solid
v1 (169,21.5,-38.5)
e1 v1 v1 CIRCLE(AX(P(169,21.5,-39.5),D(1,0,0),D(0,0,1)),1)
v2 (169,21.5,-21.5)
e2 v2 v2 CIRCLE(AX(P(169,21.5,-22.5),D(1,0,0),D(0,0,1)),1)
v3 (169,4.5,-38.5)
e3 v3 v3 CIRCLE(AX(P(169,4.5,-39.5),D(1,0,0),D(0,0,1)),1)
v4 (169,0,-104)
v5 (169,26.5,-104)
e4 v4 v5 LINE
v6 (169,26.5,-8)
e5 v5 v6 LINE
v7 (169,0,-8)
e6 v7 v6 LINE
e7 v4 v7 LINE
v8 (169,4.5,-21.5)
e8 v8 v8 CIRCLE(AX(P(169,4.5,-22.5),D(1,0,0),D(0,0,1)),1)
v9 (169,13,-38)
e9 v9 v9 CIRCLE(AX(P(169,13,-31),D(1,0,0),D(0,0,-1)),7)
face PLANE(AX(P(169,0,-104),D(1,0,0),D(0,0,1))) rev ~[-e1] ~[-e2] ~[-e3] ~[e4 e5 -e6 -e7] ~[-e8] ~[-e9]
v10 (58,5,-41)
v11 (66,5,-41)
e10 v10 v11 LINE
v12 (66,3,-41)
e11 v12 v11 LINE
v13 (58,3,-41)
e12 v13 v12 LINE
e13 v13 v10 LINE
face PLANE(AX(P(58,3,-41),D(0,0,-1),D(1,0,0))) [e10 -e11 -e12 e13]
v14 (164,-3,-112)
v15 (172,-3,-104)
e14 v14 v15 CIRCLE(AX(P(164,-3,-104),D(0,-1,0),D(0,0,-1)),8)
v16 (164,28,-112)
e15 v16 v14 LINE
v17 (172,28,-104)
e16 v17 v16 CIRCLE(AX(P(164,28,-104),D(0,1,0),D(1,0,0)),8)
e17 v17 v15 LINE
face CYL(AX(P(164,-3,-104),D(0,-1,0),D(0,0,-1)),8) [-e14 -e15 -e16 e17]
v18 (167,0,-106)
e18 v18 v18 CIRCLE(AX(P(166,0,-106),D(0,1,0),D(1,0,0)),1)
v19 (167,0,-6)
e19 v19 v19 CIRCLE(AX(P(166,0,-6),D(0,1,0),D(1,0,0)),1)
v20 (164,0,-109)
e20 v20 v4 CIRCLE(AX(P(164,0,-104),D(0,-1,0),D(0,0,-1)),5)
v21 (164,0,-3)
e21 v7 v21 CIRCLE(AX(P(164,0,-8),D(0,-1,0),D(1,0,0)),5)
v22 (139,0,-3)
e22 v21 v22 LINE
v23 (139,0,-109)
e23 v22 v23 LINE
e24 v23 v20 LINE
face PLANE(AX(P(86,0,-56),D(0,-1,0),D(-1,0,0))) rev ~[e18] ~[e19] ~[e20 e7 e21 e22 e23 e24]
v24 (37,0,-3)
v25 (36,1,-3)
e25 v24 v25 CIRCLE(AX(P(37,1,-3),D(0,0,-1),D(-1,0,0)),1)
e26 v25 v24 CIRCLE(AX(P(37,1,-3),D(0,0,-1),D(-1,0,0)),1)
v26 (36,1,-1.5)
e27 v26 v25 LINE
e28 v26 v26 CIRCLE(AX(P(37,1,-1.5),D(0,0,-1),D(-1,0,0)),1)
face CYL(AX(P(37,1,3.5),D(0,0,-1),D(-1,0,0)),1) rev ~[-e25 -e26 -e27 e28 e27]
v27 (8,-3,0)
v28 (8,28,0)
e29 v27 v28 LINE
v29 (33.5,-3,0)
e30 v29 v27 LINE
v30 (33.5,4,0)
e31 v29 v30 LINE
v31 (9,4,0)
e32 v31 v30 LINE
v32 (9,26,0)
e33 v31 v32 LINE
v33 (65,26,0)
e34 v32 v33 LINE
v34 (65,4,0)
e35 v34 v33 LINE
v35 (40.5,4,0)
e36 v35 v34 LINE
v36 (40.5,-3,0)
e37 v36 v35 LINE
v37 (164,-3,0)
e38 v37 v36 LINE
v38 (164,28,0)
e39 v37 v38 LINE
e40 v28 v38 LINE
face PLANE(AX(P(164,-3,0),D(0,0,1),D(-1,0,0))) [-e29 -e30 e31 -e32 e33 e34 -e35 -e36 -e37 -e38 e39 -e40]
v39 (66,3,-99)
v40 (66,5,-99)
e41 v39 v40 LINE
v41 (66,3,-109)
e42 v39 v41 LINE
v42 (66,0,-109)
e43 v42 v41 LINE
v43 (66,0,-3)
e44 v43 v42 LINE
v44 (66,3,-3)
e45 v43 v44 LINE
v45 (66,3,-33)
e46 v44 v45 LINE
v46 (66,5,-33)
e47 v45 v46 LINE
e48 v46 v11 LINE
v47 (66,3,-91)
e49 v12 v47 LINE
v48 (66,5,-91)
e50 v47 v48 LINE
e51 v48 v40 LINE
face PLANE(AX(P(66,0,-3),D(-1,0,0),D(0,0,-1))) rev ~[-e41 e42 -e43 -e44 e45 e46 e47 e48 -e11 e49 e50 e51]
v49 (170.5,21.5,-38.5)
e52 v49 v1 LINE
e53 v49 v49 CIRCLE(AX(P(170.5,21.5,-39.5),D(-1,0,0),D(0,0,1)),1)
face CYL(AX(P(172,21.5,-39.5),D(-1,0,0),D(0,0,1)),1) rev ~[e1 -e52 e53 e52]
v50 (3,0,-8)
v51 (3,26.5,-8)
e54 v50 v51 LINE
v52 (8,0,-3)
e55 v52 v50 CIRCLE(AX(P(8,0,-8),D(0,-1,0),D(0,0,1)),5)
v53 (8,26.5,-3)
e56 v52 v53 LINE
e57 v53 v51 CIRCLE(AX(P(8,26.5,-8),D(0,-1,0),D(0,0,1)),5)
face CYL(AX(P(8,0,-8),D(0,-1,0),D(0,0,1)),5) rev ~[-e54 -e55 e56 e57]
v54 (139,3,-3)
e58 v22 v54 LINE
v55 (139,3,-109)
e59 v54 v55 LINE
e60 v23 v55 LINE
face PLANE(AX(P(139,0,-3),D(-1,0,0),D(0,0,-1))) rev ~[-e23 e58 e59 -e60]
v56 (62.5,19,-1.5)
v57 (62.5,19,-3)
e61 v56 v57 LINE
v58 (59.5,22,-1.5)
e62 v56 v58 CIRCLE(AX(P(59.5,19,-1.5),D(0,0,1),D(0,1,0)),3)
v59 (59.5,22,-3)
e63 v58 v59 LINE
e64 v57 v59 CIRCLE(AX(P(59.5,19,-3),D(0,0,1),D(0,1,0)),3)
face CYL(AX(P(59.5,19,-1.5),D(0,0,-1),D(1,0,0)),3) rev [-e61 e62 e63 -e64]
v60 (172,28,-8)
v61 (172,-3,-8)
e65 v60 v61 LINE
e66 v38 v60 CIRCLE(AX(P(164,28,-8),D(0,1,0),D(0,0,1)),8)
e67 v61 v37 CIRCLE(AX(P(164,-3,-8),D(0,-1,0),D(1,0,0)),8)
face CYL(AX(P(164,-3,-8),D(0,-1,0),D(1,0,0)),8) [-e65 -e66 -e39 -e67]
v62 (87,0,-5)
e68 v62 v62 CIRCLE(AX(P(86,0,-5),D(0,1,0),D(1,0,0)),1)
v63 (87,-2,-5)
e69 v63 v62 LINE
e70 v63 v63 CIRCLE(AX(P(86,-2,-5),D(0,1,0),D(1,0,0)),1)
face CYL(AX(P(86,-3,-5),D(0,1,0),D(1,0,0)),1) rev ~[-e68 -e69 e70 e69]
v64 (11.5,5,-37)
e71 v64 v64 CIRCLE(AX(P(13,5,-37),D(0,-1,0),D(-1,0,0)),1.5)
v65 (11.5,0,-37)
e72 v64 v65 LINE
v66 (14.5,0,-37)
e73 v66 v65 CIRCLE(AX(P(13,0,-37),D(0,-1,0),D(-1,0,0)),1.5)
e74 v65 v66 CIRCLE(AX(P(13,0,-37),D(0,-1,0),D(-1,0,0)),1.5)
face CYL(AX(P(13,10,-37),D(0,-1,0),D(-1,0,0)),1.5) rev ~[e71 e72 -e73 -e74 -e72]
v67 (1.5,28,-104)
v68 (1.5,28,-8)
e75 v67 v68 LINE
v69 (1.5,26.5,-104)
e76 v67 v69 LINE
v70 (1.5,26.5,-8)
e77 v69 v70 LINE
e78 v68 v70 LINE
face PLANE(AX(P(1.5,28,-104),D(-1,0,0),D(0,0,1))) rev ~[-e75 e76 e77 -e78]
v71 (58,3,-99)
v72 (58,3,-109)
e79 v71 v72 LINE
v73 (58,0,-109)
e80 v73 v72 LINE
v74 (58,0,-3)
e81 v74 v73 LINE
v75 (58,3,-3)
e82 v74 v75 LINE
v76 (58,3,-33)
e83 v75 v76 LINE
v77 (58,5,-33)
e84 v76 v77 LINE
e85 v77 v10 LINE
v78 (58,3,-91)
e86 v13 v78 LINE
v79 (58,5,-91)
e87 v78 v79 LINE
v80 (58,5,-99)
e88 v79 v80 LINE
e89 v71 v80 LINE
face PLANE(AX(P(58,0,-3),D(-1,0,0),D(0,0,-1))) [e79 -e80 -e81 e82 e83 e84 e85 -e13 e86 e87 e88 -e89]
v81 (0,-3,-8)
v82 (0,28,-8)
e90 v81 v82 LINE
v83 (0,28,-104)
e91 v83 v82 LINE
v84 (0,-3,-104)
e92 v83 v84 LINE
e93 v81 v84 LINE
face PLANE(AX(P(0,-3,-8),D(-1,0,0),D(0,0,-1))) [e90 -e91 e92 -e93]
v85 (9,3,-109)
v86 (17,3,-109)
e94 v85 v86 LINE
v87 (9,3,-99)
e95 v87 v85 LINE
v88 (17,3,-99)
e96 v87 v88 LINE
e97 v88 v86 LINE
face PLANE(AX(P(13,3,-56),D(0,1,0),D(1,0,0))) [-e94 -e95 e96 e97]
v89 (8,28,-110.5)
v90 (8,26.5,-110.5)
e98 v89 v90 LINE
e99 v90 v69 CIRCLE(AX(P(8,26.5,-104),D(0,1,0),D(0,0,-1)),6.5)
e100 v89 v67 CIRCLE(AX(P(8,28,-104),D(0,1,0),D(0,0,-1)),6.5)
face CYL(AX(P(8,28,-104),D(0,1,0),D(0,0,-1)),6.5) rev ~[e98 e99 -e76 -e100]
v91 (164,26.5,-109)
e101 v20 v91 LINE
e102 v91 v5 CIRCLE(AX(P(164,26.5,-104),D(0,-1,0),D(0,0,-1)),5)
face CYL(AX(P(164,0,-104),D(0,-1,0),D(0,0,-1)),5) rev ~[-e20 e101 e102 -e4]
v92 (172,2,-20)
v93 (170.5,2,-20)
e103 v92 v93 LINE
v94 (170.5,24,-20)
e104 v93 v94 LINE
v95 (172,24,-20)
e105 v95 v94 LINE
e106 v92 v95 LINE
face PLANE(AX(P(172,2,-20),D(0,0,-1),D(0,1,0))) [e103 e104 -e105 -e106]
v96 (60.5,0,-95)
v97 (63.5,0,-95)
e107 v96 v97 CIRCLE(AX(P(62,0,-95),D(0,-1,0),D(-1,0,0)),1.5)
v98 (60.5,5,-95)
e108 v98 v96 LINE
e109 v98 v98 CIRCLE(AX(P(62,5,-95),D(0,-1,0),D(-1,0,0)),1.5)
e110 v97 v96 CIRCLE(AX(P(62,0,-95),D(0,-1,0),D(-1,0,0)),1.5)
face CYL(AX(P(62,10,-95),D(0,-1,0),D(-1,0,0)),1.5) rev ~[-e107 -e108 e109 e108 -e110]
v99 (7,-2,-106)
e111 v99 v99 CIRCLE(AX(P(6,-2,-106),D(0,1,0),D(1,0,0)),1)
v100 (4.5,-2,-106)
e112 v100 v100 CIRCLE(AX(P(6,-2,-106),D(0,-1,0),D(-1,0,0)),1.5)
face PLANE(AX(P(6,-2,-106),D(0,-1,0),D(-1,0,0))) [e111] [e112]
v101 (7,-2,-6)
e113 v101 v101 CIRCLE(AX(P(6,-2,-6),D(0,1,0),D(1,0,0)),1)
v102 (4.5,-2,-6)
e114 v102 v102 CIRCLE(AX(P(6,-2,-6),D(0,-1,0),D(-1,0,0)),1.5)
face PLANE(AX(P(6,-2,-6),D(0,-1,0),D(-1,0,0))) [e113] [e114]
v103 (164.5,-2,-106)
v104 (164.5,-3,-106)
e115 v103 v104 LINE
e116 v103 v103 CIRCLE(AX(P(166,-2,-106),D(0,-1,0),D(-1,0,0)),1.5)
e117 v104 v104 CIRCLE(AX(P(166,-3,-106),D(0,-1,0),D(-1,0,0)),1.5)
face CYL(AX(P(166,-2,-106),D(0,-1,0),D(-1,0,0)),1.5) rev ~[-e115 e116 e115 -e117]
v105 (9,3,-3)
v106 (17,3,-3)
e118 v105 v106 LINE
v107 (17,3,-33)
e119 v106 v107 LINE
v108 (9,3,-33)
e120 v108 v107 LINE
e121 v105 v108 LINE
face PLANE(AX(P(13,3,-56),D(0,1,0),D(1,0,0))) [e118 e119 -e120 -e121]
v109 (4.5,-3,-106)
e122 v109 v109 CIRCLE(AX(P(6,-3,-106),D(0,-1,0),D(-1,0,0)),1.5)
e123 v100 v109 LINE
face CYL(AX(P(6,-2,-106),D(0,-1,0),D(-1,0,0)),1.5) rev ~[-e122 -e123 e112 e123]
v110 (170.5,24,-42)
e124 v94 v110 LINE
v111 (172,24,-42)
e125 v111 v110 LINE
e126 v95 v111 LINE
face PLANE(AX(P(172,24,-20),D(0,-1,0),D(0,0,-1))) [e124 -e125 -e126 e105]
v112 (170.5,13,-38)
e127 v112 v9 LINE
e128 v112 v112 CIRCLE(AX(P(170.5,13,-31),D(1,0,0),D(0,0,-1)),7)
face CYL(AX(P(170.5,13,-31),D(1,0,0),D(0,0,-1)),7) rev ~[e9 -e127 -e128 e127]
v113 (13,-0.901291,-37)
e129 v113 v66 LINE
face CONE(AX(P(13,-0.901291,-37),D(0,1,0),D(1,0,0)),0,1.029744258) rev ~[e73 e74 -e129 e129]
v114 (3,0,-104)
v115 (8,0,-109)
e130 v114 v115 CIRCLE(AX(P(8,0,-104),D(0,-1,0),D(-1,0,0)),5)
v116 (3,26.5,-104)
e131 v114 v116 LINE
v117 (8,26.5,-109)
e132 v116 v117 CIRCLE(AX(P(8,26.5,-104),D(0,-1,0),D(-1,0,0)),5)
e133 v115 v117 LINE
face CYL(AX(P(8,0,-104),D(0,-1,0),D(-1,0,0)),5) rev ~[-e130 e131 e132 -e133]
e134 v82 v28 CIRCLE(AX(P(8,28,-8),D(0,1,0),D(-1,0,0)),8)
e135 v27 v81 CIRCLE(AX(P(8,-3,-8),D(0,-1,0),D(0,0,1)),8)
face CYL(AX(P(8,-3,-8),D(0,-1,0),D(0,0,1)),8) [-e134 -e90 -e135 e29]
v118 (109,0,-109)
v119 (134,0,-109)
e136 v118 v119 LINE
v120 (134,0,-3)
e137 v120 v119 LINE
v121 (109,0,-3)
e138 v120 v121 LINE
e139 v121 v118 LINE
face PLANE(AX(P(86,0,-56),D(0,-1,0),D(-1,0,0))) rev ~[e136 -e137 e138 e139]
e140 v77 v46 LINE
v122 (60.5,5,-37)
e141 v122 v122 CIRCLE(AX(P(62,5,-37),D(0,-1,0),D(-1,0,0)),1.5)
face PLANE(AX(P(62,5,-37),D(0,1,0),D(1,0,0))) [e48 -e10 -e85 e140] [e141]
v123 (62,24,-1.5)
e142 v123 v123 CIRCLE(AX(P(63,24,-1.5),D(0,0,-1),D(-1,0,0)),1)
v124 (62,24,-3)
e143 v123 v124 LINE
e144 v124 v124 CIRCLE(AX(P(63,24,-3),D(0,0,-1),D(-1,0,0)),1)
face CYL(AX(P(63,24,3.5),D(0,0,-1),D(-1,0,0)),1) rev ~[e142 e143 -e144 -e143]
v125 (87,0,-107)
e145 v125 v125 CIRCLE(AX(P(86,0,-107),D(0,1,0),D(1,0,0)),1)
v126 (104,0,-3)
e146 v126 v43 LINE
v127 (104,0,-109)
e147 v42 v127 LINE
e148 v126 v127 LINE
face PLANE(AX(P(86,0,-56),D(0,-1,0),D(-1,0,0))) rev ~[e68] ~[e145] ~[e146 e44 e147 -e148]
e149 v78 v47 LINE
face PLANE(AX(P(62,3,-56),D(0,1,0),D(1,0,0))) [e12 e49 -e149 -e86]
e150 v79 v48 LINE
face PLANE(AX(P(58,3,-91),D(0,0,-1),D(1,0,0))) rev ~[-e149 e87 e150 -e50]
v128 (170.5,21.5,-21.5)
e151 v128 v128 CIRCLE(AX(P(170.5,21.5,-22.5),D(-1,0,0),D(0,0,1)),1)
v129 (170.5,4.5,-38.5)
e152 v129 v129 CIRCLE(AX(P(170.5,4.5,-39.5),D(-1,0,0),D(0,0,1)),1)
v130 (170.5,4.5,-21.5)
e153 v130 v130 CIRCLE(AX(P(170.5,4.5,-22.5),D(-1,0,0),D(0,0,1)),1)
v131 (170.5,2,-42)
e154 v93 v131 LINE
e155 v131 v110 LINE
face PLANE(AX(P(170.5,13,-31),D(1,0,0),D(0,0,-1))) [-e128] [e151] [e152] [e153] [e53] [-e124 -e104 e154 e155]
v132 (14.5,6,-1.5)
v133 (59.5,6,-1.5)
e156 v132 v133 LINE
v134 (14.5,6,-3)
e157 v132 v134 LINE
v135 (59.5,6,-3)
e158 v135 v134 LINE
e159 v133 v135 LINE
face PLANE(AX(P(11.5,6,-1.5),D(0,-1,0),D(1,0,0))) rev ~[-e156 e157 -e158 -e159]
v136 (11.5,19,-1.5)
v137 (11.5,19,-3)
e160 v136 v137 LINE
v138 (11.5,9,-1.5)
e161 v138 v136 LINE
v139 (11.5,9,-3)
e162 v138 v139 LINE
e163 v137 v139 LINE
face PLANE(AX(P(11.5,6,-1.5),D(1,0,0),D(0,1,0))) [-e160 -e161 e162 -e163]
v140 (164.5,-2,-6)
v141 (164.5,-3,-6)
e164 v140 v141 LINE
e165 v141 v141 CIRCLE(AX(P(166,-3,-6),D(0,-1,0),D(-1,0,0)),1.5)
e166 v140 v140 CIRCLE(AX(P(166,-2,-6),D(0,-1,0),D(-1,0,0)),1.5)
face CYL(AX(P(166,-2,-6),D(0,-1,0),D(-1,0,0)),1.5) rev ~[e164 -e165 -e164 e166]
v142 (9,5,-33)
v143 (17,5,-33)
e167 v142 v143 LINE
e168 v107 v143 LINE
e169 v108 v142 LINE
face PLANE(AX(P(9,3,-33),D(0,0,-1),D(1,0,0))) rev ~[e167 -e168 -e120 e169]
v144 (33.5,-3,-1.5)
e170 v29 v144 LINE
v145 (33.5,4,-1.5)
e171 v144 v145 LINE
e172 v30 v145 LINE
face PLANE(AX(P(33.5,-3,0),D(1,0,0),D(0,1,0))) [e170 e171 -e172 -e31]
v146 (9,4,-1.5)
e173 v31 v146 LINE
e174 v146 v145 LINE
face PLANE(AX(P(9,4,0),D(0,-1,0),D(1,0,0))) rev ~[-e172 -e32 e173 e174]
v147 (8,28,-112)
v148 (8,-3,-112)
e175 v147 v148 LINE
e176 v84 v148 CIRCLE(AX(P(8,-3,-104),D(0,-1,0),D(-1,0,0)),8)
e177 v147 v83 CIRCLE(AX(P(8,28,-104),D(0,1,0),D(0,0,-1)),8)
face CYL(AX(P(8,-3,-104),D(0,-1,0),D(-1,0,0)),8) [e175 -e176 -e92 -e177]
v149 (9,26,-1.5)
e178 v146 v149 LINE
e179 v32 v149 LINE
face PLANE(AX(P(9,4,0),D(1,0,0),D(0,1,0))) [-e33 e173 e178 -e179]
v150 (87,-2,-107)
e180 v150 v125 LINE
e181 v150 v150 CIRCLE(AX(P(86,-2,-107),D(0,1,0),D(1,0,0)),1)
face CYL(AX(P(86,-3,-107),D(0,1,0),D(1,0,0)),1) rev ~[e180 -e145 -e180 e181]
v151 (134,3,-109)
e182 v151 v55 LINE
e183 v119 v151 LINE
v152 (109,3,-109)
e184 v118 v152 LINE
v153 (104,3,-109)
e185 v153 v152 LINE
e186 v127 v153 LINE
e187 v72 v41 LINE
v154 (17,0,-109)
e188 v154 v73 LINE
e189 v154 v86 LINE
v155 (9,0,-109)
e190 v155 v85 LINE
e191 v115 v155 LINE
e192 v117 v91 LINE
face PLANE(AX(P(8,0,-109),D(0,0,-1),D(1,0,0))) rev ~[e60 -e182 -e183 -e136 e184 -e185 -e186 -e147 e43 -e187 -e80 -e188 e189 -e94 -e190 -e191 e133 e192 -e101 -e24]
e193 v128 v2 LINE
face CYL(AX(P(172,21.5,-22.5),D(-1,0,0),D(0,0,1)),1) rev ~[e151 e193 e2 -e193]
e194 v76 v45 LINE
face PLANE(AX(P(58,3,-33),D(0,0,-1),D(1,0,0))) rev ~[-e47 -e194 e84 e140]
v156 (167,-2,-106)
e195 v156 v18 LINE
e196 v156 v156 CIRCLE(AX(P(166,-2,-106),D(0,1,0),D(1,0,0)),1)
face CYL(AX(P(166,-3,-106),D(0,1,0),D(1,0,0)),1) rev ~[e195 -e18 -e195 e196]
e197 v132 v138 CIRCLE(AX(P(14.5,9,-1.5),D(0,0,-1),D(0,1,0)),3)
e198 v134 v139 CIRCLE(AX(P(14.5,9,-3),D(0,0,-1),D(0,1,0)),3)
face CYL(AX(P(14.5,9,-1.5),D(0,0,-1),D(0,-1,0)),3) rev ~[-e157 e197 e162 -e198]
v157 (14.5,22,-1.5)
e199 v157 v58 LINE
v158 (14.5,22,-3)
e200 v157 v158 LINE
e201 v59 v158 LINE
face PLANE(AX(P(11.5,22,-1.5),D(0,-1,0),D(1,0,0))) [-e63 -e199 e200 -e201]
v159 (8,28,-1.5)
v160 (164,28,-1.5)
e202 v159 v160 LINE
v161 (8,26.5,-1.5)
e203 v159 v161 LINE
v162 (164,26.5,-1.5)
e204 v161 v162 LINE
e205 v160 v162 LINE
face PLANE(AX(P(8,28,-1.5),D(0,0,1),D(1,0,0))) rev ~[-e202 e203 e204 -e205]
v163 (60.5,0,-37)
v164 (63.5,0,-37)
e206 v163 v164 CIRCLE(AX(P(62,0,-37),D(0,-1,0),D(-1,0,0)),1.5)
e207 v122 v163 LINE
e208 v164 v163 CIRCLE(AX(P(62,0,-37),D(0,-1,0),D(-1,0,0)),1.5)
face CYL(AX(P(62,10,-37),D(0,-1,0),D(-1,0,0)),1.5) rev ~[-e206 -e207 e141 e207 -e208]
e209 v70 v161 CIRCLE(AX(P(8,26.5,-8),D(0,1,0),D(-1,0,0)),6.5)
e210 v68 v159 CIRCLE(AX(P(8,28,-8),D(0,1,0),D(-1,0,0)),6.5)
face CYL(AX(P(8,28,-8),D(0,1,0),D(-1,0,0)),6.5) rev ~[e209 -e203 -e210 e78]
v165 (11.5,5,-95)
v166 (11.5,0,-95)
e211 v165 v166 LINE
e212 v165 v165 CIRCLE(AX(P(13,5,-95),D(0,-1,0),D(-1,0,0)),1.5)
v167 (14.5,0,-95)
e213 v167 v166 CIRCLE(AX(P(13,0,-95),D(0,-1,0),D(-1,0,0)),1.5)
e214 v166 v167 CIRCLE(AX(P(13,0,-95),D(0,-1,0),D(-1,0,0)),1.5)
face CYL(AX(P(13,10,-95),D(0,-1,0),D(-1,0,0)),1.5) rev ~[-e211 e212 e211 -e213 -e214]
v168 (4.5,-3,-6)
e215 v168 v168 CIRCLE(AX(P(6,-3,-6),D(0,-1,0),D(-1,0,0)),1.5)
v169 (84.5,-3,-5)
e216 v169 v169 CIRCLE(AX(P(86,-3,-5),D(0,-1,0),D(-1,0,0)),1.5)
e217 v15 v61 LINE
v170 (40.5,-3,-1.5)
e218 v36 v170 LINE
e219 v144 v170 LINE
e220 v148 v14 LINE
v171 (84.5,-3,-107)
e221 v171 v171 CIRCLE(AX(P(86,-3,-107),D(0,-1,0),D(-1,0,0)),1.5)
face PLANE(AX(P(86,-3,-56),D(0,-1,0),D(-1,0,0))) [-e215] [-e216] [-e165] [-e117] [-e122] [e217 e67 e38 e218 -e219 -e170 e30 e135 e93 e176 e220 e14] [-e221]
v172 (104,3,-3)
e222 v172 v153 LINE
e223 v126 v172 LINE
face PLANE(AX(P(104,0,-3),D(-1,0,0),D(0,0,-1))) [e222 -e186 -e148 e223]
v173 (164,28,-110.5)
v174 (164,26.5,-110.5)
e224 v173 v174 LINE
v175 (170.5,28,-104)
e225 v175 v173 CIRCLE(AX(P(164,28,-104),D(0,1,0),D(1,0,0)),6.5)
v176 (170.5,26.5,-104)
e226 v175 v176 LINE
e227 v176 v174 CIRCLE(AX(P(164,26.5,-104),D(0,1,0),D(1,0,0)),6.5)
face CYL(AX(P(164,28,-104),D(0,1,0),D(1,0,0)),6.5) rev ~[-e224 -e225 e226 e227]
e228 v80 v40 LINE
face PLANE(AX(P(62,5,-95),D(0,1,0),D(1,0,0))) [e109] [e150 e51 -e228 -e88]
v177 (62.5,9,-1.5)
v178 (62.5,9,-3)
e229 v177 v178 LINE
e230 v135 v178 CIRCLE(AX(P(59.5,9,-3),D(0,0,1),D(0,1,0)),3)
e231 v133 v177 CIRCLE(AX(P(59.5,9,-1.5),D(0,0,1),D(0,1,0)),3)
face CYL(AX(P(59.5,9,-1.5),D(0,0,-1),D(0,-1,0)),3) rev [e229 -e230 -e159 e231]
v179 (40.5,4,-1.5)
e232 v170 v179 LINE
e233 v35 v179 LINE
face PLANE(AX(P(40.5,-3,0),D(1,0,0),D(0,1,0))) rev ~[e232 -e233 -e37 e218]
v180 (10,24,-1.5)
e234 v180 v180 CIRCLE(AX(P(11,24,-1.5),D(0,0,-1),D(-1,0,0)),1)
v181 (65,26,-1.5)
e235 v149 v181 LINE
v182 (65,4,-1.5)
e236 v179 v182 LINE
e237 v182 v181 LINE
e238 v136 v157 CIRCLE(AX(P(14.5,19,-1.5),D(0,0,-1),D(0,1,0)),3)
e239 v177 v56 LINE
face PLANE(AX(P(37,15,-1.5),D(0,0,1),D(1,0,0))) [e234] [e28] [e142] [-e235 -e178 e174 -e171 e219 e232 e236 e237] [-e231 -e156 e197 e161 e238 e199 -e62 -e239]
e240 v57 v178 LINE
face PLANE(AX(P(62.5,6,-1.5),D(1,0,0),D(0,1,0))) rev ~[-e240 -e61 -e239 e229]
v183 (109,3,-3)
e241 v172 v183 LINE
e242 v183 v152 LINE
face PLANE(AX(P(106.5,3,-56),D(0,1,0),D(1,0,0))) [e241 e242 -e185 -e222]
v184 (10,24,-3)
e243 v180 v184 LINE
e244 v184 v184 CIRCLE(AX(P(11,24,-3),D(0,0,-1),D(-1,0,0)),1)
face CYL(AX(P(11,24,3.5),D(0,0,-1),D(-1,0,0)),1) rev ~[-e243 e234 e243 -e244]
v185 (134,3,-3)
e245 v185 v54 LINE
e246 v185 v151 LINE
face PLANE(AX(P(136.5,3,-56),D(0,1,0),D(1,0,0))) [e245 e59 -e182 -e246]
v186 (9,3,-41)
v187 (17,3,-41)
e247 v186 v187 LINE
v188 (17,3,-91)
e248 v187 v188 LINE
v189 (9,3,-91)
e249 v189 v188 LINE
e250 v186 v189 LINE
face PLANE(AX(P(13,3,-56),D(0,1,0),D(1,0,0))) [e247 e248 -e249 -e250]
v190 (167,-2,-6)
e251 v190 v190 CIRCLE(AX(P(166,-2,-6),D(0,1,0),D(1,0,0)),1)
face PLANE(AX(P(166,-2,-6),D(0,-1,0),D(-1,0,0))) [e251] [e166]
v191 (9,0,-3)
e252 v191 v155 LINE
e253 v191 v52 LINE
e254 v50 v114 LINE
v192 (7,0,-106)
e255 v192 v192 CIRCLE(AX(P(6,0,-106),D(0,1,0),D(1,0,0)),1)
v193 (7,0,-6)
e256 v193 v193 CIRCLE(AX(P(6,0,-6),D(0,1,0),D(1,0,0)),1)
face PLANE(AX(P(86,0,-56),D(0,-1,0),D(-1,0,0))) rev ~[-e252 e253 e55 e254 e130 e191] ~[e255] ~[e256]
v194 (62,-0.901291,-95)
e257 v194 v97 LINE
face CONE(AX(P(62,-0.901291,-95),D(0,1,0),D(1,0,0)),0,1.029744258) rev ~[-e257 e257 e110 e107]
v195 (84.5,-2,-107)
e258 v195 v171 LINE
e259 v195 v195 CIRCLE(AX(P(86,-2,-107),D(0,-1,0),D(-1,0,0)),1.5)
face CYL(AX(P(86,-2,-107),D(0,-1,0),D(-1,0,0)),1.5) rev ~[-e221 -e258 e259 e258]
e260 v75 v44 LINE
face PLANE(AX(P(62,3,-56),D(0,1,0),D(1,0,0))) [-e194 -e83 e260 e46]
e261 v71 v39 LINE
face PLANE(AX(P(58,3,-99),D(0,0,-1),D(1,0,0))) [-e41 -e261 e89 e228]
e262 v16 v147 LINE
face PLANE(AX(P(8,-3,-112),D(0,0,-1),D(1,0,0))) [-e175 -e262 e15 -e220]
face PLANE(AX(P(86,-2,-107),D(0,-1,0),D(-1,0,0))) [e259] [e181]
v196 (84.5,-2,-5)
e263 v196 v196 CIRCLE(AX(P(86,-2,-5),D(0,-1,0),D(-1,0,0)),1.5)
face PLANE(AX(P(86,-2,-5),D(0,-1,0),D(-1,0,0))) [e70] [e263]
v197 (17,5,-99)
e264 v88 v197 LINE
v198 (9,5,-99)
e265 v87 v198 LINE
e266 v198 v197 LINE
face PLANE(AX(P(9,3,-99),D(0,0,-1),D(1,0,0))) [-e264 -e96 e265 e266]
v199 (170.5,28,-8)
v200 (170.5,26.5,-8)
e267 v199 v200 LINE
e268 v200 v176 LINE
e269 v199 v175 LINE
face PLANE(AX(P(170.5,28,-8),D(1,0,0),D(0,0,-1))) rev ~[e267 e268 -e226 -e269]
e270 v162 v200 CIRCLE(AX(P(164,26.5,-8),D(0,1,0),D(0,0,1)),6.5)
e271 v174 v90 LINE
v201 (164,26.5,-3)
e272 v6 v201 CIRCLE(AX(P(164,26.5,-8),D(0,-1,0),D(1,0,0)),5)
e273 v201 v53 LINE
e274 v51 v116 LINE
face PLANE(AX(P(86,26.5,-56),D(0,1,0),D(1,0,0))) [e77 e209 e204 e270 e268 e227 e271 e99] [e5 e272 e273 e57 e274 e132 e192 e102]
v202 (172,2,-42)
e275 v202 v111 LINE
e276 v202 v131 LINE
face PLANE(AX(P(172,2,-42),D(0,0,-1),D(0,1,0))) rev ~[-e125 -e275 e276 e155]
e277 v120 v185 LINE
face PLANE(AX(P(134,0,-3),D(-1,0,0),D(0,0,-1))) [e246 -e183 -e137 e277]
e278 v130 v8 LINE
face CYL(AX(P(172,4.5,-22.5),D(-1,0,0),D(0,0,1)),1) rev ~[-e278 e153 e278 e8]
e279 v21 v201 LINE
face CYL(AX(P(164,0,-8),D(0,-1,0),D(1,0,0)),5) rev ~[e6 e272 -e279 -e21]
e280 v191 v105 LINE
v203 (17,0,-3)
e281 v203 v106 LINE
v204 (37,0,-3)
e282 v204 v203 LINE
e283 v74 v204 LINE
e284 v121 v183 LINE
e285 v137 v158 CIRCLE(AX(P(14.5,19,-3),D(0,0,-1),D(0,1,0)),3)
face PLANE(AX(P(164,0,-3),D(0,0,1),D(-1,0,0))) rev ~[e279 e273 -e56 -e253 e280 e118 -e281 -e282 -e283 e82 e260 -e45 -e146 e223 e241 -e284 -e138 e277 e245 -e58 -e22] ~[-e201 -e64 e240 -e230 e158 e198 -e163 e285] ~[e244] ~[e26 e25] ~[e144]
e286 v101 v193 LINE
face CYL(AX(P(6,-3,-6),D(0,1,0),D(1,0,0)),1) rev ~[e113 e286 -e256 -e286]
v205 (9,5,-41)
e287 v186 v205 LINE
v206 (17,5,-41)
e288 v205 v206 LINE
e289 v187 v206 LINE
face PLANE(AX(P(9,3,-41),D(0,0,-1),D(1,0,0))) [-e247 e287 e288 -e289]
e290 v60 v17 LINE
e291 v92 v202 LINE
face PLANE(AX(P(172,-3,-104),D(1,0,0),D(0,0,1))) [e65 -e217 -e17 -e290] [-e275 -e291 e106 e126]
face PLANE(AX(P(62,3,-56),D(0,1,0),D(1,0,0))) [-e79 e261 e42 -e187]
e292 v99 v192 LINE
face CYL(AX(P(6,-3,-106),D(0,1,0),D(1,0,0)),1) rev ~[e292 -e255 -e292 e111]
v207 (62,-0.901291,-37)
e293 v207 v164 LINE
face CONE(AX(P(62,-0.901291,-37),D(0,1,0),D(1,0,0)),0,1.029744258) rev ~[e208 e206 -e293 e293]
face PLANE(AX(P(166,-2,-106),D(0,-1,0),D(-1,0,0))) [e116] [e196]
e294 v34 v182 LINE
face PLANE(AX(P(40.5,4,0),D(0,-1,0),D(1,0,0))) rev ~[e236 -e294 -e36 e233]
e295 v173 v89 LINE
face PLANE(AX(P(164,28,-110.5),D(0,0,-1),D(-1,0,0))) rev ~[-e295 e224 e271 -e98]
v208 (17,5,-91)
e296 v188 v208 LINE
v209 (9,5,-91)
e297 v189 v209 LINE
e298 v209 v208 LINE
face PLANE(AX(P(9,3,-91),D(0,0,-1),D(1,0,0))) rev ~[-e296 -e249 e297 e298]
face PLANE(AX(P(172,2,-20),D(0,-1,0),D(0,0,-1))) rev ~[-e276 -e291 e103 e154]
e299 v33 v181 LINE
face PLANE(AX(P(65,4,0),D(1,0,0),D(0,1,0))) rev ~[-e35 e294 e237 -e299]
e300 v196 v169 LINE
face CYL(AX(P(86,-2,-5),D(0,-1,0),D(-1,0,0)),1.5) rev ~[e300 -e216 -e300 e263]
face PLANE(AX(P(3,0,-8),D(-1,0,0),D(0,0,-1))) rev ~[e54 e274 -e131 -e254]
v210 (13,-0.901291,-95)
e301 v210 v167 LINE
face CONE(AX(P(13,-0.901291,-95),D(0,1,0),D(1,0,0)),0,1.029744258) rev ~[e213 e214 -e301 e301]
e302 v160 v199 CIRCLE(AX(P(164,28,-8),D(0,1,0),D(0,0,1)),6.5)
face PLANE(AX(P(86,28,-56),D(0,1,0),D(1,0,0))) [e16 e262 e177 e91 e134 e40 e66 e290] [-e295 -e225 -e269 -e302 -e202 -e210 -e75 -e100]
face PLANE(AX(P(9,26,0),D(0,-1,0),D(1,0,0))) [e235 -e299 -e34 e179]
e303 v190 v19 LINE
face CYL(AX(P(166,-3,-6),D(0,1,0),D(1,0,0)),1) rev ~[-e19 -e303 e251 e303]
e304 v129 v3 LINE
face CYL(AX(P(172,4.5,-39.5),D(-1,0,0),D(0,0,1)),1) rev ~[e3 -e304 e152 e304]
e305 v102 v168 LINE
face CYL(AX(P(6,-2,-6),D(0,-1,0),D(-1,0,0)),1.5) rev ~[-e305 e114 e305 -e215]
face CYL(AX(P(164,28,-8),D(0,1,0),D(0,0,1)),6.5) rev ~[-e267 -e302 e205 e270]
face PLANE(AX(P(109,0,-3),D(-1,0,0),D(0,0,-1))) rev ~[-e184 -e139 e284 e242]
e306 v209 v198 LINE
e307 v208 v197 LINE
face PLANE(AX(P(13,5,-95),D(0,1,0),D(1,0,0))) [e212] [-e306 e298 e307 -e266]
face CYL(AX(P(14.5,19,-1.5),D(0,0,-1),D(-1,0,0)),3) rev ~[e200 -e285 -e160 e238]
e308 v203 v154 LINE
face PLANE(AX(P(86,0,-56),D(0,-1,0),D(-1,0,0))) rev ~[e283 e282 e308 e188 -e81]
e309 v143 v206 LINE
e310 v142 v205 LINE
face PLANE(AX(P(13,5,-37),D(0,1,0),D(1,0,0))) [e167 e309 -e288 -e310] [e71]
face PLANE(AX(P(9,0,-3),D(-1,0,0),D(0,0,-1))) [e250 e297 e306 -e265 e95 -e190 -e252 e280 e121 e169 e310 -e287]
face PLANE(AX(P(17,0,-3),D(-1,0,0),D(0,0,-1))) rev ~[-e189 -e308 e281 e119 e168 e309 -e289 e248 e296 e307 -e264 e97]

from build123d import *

# Parameters (mm, degrees)
EXTRUDE_1_DEPTH             = 28
SKETCH_3_W                  = 8
SKETCH_3_H                  = 106
EXTRUDE_2_DEPTH             = 3
EXTRUDE_2_2_DEPTH           = 3
EXTRUDE_START               = -3
EXTRUDE_3_DEPTH             = 3
HOLE_WIZARD_M51_D           = 2
HOLE_WIZARD_M51_CBORE_D     = 3
HOLE_WIZARD_M51_CBORE_DEPTH = 1
SKETCH_17_W                 = 56
SKETCH_17_H                 = 22
SKETCH_17_W_2               = 7
SKETCH_17_H_2               = 7
CUT_EXTRUDE_2_DEPTH         = 1.5
CUT_EXTRUDE_3_REACH         = 208.345
SKETCH_18_W                 = 51
SKETCH_18_H                 = 16
SKETCH_19_W                 = 8
SKETCH_19_H                 = 8
EXTRUDE_4_DEPTH             = 2
HOLE_WIZARD_3_0_3_1_D       = 3
HOLE_WIZARD_3_0_3_1_DEPTH   = 5
HOLE_WIZARD_3_0_3_1_TIP     = 0.901290929
HOLE_WIZARD_2_0_2_1_D       = 2
HOLE_WIZARD_2_0_2_1_DEPTH   = 5
HOLE_WIZARD_2_0_2_1_TIP     = 0.600860619
CUT_EXTRUDE_4_DEPTH         = 1.5
FILLET_1_R                  = 3
SKETCH_28_W                 = 5
SKETCH_28_H                 = 106
EXTRUDE_5_DEPTH             = 3
SKETCH_29_W                 = 22
SKETCH_29_H                 = 22
CUT_EXTRUDE_5_DEPTH         = 1.5
SKETCH_30_R                 = 7
CUT_EXTRUDE_6_DEPTH         = 1.5
HOLE_WIZARD_2_0_2_2_D       = 2
HOLE_WIZARD_2_0_2_2_DEPTH   = 1.5
HOLE_WIZARD_2_0_2_2_TIP     = 0.600860619


with BuildPart() as part:
    # Эскиз1 → Бобышка-Вытянуть1 (new body)
    with BuildSketch(Plane(origin=(0, 0, 0), x_dir=(1, 0, 0), z_dir=(0, 1, 0))):
        with BuildLine():
            Line((8, 0), (164, 0))
            ThreePointArc((164, 0), (169.656854249, 2.343145751), (172, 8))
            Line((172, 8), (172, 104))
            ThreePointArc((172, 104), (169.656854249, 109.656854249), (164, 112))
            Line((164, 112), (8, 112))
            ThreePointArc((8, 112), (2.343145751, 109.656854249), (0, 104))
            Line((0, 104), (0, 8))
            ThreePointArc((0, 8), (2.343145751, 2.343145751), (8, 0))
        make_face()
        with BuildLine():
            Line((8, 109), (164, 109))
            ThreePointArc((164, 109), (167.535533906, 107.535533906), (169, 104))
            Line((169, 104), (169, 8))
            ThreePointArc((169, 8), (167.535533906, 4.464466094), (164, 3))
            Line((164, 3), (8, 3))
            ThreePointArc((8, 3), (4.464466094, 4.464466094), (3, 8))
            Line((3, 8), (3, 104))
            ThreePointArc((3, 104), (4.464466094, 107.535533906), (8, 109))
        make_face(mode=Mode.SUBTRACT)
    extrude(amount=EXTRUDE_1_DEPTH)



with BuildPart() as body_2:
    # Эскиз3 → Бобышка-Вытянуть2 (new body)
    with BuildSketch(Plane(origin=(0, 0, 0), x_dir=(1, 0, 0), z_dir=(0, 1, 0))):
        with Locations((13, 56)):
            Rectangle(SKETCH_3_W, SKETCH_3_H)
    extrude(amount=EXTRUDE_2_DEPTH)


with BuildPart() as body_3:
    # Эскиз3 → Extrude 2 2 (new body)
    with BuildSketch(Plane(origin=(0, 0, 0), x_dir=(1, 0, 0), z_dir=(0, 1, 0))):
        with Locations((62, 56)):
            Rectangle(SKETCH_3_W, SKETCH_3_H)
    extrude(amount=EXTRUDE_2_2_DEPTH)


with BuildPart() as part_1:
    add(part.part)

    add(body_2.part)  # Бобышка-Вытянуть3 merges body 2

    add(body_3.part)  # Бобышка-Вытянуть3 merges body 3
    # Эскиз6 → Бобышка-Вытянуть3 (add)
    with BuildSketch(Plane(origin=(0, 0, 0), x_dir=(1, 0, 0), z_dir=(0, 1, 0)).offset(EXTRUDE_START)):
        with BuildLine():
            Line((0, 8), (0, 104))
            ThreePointArc((0, 104), (2.343145751, 109.656854249), (8, 112))
            Line((8, 112), (164, 112))
            ThreePointArc((164, 112), (169.656854249, 109.656854249), (172, 104))
            Line((172, 104), (172, 8))
            ThreePointArc((172, 8), (169.656854249, 2.343145751), (164, 0))
            Line((164, 0), (8, 0))
            ThreePointArc((8, 0), (2.343145751, 2.343145751), (0, 8))
        make_face()
    extrude(amount=EXTRUDE_3_DEPTH)

    # Цековка для  болта с шестигранной головкой M51 (through all)
    with Locations(Plane(origin=(0, -3, 0), x_dir=(-1, 0, 0), z_dir=(0, -1, 0))):
        with Locations((-6, 6), (-6, 106), (-166, 106), (-166, 6), (-86, 5), (-86, 107)):
            CounterBoreHole(HOLE_WIZARD_M51_D / 2, HOLE_WIZARD_M51_CBORE_D / 2, HOLE_WIZARD_M51_CBORE_DEPTH)

    # Эскиз17 → Вырез-Вытянуть2 (cut)
    with BuildSketch(Plane.XY):
        with Locations((37, 15)):
            Rectangle(SKETCH_17_W, SKETCH_17_H)
        with Locations((37, 0.5)):
            Rectangle(SKETCH_17_W_2, SKETCH_17_H_2)
    extrude(amount=-CUT_EXTRUDE_2_DEPTH, mode=Mode.SUBTRACT)

    # Эскиз18 → Вырез-Вытянуть3 (cut, up to next)
    with BuildSketch(Plane.XY.offset(-1.5), mode=Mode.PRIVATE) as cut_extrude_3_sk1:
        with Locations((37, 14)):
            Rectangle(SKETCH_18_W, SKETCH_18_H)
    cut_extrude_3_tool1 = extrude(cut_extrude_3_sk1.sketch, amount=-CUT_EXTRUDE_3_REACH, mode=Mode.PRIVATE) & part_1.part
    add(cut_extrude_3_tool1.solids().sort_by_distance((37, 14, -1.5))[0], mode=Mode.SUBTRACT)

    # Эскиз19 → Бобышка-Вытянуть4 (add)
    with BuildSketch(Plane(origin=(0, 3, 0), x_dir=(1, 0, 0), z_dir=(0, 1, 0))):
        with Locations((13, 95)):
            Rectangle(SKETCH_19_W, SKETCH_19_H)
        with Locations((62, 95)):
            Rectangle(SKETCH_19_W, SKETCH_19_H)
        with Locations((13, 37)):
            Rectangle(SKETCH_19_W, SKETCH_19_H)
        with Locations((62, 37)):
            Rectangle(SKETCH_19_W, SKETCH_19_H)
    extrude(amount=EXTRUDE_4_DEPTH)

    # Диаметр отверстия Ø3.0 (3)1
    with Locations(Plane(origin=(0, 5, 0), x_dir=(1, 0, 0), z_dir=(0, 1, 0))):
        with Locations((13, 95), (62, 95), (62, 37), (13, 37)):
            Hole(HOLE_WIZARD_3_0_3_1_D / 2, depth=HOLE_WIZARD_3_0_3_1_DEPTH)
            with Locations((0, 0, -(HOLE_WIZARD_3_0_3_1_DEPTH + HOLE_WIZARD_3_0_3_1_TIP / 2))):  # 118° drill point
                Cone(0, HOLE_WIZARD_3_0_3_1_D / 2, HOLE_WIZARD_3_0_3_1_TIP, mode=Mode.SUBTRACT)

    # Диаметр отверстия Ø2.0 (2)1
    with Locations(Plane.XY.offset(-1.5)):
        with Locations((37, 1), (11, 24), (63, 24)):
            Hole(HOLE_WIZARD_2_0_2_1_D / 2, depth=HOLE_WIZARD_2_0_2_1_DEPTH)
            with Locations((0, 0, -(HOLE_WIZARD_2_0_2_1_DEPTH + HOLE_WIZARD_2_0_2_1_TIP / 2))):  # 118° drill point
                Cone(0, HOLE_WIZARD_2_0_2_1_D / 2, HOLE_WIZARD_2_0_2_1_TIP, mode=Mode.SUBTRACT)

    # Эскиз27 → Вырез-Вытянуть4 (cut)
    with BuildSketch(Plane(origin=(0, 28, 0), x_dir=(1, 0, 0), z_dir=(0, 1, 0))):
        with BuildLine():
            Line((170.5, 8), (170.5, 104))
            ThreePointArc((170.5, 104), (168.596194078, 108.596194078), (164, 110.5))
            Line((164, 110.5), (8, 110.5))
            ThreePointArc((8, 110.5), (3.403805922, 108.596194078), (1.5, 104))
            Line((1.5, 104), (1.5, 8))
            ThreePointArc((1.5, 8), (3.403805922, 3.403805922), (8, 1.5))
            Line((8, 1.5), (164, 1.5))
            ThreePointArc((164, 1.5), (168.596194078, 3.403805922), (170.5, 8))
        make_face()
    extrude(amount=-CUT_EXTRUDE_4_DEPTH, mode=Mode.SUBTRACT)

    # Скругление1
    fillet_1_edges = [part_1.edges().sort_by_distance(p)[0] for p in [
        (11.5, 6, -2.25),
        (11.5, 22, -2.25),
        (62.5, 22, -2.25),
        (62.5, 6, -2.25),
    ]]
    fillet(fillet_1_edges, radius=FILLET_1_R)

    # Эскиз28 → Бобышка-Вытянуть5 (add)
    with BuildSketch(Plane(origin=(0, 0, 0), x_dir=(1, 0, 0), z_dir=(0, 1, 0))):
        with Locations((106.5, 56)):
            Rectangle(SKETCH_28_W, SKETCH_28_H)
        with Locations((136.5, 56)):
            Rectangle(SKETCH_28_W, SKETCH_28_H)
    extrude(amount=EXTRUDE_5_DEPTH)

    # Эскиз29 → Вырез-Вытянуть5 (cut)
    with BuildSketch(Plane(origin=(172, 0, 0), x_dir=(0, 0, -1), z_dir=(1, 0, 0))):
        with Locations((31, 13)):
            Rectangle(SKETCH_29_W, SKETCH_29_H)
    extrude(amount=-CUT_EXTRUDE_5_DEPTH, mode=Mode.SUBTRACT)

    # Эскиз30 → Вырез-Вытянуть6 (cut)
    with BuildSketch(Plane(origin=(170.5, 0, 0), x_dir=(0, 0, -1), z_dir=(1, 0, 0))):
        with Locations((31, 13)):
            Circle(SKETCH_30_R)
    extrude(amount=-CUT_EXTRUDE_6_DEPTH, mode=Mode.SUBTRACT)

    # Диаметр отверстия Ø2.0 (2)2
    with Locations(Plane(origin=(170.5, 0, 0), x_dir=(0, 0, -1), z_dir=(1, 0, 0))):
        with Locations((22.5, 21.5), (39.5, 21.5), (39.5, 4.5), (22.5, 4.5)):
            Hole(HOLE_WIZARD_2_0_2_2_D / 2, depth=HOLE_WIZARD_2_0_2_2_DEPTH)
            with Locations((0, 0, -(HOLE_WIZARD_2_0_2_2_DEPTH + HOLE_WIZARD_2_0_2_2_TIP / 2))):  # 118° drill point
                Cone(0, HOLE_WIZARD_2_0_2_2_D / 2, HOLE_WIZARD_2_0_2_2_TIP, mode=Mode.SUBTRACT)


solid = part_1.part
